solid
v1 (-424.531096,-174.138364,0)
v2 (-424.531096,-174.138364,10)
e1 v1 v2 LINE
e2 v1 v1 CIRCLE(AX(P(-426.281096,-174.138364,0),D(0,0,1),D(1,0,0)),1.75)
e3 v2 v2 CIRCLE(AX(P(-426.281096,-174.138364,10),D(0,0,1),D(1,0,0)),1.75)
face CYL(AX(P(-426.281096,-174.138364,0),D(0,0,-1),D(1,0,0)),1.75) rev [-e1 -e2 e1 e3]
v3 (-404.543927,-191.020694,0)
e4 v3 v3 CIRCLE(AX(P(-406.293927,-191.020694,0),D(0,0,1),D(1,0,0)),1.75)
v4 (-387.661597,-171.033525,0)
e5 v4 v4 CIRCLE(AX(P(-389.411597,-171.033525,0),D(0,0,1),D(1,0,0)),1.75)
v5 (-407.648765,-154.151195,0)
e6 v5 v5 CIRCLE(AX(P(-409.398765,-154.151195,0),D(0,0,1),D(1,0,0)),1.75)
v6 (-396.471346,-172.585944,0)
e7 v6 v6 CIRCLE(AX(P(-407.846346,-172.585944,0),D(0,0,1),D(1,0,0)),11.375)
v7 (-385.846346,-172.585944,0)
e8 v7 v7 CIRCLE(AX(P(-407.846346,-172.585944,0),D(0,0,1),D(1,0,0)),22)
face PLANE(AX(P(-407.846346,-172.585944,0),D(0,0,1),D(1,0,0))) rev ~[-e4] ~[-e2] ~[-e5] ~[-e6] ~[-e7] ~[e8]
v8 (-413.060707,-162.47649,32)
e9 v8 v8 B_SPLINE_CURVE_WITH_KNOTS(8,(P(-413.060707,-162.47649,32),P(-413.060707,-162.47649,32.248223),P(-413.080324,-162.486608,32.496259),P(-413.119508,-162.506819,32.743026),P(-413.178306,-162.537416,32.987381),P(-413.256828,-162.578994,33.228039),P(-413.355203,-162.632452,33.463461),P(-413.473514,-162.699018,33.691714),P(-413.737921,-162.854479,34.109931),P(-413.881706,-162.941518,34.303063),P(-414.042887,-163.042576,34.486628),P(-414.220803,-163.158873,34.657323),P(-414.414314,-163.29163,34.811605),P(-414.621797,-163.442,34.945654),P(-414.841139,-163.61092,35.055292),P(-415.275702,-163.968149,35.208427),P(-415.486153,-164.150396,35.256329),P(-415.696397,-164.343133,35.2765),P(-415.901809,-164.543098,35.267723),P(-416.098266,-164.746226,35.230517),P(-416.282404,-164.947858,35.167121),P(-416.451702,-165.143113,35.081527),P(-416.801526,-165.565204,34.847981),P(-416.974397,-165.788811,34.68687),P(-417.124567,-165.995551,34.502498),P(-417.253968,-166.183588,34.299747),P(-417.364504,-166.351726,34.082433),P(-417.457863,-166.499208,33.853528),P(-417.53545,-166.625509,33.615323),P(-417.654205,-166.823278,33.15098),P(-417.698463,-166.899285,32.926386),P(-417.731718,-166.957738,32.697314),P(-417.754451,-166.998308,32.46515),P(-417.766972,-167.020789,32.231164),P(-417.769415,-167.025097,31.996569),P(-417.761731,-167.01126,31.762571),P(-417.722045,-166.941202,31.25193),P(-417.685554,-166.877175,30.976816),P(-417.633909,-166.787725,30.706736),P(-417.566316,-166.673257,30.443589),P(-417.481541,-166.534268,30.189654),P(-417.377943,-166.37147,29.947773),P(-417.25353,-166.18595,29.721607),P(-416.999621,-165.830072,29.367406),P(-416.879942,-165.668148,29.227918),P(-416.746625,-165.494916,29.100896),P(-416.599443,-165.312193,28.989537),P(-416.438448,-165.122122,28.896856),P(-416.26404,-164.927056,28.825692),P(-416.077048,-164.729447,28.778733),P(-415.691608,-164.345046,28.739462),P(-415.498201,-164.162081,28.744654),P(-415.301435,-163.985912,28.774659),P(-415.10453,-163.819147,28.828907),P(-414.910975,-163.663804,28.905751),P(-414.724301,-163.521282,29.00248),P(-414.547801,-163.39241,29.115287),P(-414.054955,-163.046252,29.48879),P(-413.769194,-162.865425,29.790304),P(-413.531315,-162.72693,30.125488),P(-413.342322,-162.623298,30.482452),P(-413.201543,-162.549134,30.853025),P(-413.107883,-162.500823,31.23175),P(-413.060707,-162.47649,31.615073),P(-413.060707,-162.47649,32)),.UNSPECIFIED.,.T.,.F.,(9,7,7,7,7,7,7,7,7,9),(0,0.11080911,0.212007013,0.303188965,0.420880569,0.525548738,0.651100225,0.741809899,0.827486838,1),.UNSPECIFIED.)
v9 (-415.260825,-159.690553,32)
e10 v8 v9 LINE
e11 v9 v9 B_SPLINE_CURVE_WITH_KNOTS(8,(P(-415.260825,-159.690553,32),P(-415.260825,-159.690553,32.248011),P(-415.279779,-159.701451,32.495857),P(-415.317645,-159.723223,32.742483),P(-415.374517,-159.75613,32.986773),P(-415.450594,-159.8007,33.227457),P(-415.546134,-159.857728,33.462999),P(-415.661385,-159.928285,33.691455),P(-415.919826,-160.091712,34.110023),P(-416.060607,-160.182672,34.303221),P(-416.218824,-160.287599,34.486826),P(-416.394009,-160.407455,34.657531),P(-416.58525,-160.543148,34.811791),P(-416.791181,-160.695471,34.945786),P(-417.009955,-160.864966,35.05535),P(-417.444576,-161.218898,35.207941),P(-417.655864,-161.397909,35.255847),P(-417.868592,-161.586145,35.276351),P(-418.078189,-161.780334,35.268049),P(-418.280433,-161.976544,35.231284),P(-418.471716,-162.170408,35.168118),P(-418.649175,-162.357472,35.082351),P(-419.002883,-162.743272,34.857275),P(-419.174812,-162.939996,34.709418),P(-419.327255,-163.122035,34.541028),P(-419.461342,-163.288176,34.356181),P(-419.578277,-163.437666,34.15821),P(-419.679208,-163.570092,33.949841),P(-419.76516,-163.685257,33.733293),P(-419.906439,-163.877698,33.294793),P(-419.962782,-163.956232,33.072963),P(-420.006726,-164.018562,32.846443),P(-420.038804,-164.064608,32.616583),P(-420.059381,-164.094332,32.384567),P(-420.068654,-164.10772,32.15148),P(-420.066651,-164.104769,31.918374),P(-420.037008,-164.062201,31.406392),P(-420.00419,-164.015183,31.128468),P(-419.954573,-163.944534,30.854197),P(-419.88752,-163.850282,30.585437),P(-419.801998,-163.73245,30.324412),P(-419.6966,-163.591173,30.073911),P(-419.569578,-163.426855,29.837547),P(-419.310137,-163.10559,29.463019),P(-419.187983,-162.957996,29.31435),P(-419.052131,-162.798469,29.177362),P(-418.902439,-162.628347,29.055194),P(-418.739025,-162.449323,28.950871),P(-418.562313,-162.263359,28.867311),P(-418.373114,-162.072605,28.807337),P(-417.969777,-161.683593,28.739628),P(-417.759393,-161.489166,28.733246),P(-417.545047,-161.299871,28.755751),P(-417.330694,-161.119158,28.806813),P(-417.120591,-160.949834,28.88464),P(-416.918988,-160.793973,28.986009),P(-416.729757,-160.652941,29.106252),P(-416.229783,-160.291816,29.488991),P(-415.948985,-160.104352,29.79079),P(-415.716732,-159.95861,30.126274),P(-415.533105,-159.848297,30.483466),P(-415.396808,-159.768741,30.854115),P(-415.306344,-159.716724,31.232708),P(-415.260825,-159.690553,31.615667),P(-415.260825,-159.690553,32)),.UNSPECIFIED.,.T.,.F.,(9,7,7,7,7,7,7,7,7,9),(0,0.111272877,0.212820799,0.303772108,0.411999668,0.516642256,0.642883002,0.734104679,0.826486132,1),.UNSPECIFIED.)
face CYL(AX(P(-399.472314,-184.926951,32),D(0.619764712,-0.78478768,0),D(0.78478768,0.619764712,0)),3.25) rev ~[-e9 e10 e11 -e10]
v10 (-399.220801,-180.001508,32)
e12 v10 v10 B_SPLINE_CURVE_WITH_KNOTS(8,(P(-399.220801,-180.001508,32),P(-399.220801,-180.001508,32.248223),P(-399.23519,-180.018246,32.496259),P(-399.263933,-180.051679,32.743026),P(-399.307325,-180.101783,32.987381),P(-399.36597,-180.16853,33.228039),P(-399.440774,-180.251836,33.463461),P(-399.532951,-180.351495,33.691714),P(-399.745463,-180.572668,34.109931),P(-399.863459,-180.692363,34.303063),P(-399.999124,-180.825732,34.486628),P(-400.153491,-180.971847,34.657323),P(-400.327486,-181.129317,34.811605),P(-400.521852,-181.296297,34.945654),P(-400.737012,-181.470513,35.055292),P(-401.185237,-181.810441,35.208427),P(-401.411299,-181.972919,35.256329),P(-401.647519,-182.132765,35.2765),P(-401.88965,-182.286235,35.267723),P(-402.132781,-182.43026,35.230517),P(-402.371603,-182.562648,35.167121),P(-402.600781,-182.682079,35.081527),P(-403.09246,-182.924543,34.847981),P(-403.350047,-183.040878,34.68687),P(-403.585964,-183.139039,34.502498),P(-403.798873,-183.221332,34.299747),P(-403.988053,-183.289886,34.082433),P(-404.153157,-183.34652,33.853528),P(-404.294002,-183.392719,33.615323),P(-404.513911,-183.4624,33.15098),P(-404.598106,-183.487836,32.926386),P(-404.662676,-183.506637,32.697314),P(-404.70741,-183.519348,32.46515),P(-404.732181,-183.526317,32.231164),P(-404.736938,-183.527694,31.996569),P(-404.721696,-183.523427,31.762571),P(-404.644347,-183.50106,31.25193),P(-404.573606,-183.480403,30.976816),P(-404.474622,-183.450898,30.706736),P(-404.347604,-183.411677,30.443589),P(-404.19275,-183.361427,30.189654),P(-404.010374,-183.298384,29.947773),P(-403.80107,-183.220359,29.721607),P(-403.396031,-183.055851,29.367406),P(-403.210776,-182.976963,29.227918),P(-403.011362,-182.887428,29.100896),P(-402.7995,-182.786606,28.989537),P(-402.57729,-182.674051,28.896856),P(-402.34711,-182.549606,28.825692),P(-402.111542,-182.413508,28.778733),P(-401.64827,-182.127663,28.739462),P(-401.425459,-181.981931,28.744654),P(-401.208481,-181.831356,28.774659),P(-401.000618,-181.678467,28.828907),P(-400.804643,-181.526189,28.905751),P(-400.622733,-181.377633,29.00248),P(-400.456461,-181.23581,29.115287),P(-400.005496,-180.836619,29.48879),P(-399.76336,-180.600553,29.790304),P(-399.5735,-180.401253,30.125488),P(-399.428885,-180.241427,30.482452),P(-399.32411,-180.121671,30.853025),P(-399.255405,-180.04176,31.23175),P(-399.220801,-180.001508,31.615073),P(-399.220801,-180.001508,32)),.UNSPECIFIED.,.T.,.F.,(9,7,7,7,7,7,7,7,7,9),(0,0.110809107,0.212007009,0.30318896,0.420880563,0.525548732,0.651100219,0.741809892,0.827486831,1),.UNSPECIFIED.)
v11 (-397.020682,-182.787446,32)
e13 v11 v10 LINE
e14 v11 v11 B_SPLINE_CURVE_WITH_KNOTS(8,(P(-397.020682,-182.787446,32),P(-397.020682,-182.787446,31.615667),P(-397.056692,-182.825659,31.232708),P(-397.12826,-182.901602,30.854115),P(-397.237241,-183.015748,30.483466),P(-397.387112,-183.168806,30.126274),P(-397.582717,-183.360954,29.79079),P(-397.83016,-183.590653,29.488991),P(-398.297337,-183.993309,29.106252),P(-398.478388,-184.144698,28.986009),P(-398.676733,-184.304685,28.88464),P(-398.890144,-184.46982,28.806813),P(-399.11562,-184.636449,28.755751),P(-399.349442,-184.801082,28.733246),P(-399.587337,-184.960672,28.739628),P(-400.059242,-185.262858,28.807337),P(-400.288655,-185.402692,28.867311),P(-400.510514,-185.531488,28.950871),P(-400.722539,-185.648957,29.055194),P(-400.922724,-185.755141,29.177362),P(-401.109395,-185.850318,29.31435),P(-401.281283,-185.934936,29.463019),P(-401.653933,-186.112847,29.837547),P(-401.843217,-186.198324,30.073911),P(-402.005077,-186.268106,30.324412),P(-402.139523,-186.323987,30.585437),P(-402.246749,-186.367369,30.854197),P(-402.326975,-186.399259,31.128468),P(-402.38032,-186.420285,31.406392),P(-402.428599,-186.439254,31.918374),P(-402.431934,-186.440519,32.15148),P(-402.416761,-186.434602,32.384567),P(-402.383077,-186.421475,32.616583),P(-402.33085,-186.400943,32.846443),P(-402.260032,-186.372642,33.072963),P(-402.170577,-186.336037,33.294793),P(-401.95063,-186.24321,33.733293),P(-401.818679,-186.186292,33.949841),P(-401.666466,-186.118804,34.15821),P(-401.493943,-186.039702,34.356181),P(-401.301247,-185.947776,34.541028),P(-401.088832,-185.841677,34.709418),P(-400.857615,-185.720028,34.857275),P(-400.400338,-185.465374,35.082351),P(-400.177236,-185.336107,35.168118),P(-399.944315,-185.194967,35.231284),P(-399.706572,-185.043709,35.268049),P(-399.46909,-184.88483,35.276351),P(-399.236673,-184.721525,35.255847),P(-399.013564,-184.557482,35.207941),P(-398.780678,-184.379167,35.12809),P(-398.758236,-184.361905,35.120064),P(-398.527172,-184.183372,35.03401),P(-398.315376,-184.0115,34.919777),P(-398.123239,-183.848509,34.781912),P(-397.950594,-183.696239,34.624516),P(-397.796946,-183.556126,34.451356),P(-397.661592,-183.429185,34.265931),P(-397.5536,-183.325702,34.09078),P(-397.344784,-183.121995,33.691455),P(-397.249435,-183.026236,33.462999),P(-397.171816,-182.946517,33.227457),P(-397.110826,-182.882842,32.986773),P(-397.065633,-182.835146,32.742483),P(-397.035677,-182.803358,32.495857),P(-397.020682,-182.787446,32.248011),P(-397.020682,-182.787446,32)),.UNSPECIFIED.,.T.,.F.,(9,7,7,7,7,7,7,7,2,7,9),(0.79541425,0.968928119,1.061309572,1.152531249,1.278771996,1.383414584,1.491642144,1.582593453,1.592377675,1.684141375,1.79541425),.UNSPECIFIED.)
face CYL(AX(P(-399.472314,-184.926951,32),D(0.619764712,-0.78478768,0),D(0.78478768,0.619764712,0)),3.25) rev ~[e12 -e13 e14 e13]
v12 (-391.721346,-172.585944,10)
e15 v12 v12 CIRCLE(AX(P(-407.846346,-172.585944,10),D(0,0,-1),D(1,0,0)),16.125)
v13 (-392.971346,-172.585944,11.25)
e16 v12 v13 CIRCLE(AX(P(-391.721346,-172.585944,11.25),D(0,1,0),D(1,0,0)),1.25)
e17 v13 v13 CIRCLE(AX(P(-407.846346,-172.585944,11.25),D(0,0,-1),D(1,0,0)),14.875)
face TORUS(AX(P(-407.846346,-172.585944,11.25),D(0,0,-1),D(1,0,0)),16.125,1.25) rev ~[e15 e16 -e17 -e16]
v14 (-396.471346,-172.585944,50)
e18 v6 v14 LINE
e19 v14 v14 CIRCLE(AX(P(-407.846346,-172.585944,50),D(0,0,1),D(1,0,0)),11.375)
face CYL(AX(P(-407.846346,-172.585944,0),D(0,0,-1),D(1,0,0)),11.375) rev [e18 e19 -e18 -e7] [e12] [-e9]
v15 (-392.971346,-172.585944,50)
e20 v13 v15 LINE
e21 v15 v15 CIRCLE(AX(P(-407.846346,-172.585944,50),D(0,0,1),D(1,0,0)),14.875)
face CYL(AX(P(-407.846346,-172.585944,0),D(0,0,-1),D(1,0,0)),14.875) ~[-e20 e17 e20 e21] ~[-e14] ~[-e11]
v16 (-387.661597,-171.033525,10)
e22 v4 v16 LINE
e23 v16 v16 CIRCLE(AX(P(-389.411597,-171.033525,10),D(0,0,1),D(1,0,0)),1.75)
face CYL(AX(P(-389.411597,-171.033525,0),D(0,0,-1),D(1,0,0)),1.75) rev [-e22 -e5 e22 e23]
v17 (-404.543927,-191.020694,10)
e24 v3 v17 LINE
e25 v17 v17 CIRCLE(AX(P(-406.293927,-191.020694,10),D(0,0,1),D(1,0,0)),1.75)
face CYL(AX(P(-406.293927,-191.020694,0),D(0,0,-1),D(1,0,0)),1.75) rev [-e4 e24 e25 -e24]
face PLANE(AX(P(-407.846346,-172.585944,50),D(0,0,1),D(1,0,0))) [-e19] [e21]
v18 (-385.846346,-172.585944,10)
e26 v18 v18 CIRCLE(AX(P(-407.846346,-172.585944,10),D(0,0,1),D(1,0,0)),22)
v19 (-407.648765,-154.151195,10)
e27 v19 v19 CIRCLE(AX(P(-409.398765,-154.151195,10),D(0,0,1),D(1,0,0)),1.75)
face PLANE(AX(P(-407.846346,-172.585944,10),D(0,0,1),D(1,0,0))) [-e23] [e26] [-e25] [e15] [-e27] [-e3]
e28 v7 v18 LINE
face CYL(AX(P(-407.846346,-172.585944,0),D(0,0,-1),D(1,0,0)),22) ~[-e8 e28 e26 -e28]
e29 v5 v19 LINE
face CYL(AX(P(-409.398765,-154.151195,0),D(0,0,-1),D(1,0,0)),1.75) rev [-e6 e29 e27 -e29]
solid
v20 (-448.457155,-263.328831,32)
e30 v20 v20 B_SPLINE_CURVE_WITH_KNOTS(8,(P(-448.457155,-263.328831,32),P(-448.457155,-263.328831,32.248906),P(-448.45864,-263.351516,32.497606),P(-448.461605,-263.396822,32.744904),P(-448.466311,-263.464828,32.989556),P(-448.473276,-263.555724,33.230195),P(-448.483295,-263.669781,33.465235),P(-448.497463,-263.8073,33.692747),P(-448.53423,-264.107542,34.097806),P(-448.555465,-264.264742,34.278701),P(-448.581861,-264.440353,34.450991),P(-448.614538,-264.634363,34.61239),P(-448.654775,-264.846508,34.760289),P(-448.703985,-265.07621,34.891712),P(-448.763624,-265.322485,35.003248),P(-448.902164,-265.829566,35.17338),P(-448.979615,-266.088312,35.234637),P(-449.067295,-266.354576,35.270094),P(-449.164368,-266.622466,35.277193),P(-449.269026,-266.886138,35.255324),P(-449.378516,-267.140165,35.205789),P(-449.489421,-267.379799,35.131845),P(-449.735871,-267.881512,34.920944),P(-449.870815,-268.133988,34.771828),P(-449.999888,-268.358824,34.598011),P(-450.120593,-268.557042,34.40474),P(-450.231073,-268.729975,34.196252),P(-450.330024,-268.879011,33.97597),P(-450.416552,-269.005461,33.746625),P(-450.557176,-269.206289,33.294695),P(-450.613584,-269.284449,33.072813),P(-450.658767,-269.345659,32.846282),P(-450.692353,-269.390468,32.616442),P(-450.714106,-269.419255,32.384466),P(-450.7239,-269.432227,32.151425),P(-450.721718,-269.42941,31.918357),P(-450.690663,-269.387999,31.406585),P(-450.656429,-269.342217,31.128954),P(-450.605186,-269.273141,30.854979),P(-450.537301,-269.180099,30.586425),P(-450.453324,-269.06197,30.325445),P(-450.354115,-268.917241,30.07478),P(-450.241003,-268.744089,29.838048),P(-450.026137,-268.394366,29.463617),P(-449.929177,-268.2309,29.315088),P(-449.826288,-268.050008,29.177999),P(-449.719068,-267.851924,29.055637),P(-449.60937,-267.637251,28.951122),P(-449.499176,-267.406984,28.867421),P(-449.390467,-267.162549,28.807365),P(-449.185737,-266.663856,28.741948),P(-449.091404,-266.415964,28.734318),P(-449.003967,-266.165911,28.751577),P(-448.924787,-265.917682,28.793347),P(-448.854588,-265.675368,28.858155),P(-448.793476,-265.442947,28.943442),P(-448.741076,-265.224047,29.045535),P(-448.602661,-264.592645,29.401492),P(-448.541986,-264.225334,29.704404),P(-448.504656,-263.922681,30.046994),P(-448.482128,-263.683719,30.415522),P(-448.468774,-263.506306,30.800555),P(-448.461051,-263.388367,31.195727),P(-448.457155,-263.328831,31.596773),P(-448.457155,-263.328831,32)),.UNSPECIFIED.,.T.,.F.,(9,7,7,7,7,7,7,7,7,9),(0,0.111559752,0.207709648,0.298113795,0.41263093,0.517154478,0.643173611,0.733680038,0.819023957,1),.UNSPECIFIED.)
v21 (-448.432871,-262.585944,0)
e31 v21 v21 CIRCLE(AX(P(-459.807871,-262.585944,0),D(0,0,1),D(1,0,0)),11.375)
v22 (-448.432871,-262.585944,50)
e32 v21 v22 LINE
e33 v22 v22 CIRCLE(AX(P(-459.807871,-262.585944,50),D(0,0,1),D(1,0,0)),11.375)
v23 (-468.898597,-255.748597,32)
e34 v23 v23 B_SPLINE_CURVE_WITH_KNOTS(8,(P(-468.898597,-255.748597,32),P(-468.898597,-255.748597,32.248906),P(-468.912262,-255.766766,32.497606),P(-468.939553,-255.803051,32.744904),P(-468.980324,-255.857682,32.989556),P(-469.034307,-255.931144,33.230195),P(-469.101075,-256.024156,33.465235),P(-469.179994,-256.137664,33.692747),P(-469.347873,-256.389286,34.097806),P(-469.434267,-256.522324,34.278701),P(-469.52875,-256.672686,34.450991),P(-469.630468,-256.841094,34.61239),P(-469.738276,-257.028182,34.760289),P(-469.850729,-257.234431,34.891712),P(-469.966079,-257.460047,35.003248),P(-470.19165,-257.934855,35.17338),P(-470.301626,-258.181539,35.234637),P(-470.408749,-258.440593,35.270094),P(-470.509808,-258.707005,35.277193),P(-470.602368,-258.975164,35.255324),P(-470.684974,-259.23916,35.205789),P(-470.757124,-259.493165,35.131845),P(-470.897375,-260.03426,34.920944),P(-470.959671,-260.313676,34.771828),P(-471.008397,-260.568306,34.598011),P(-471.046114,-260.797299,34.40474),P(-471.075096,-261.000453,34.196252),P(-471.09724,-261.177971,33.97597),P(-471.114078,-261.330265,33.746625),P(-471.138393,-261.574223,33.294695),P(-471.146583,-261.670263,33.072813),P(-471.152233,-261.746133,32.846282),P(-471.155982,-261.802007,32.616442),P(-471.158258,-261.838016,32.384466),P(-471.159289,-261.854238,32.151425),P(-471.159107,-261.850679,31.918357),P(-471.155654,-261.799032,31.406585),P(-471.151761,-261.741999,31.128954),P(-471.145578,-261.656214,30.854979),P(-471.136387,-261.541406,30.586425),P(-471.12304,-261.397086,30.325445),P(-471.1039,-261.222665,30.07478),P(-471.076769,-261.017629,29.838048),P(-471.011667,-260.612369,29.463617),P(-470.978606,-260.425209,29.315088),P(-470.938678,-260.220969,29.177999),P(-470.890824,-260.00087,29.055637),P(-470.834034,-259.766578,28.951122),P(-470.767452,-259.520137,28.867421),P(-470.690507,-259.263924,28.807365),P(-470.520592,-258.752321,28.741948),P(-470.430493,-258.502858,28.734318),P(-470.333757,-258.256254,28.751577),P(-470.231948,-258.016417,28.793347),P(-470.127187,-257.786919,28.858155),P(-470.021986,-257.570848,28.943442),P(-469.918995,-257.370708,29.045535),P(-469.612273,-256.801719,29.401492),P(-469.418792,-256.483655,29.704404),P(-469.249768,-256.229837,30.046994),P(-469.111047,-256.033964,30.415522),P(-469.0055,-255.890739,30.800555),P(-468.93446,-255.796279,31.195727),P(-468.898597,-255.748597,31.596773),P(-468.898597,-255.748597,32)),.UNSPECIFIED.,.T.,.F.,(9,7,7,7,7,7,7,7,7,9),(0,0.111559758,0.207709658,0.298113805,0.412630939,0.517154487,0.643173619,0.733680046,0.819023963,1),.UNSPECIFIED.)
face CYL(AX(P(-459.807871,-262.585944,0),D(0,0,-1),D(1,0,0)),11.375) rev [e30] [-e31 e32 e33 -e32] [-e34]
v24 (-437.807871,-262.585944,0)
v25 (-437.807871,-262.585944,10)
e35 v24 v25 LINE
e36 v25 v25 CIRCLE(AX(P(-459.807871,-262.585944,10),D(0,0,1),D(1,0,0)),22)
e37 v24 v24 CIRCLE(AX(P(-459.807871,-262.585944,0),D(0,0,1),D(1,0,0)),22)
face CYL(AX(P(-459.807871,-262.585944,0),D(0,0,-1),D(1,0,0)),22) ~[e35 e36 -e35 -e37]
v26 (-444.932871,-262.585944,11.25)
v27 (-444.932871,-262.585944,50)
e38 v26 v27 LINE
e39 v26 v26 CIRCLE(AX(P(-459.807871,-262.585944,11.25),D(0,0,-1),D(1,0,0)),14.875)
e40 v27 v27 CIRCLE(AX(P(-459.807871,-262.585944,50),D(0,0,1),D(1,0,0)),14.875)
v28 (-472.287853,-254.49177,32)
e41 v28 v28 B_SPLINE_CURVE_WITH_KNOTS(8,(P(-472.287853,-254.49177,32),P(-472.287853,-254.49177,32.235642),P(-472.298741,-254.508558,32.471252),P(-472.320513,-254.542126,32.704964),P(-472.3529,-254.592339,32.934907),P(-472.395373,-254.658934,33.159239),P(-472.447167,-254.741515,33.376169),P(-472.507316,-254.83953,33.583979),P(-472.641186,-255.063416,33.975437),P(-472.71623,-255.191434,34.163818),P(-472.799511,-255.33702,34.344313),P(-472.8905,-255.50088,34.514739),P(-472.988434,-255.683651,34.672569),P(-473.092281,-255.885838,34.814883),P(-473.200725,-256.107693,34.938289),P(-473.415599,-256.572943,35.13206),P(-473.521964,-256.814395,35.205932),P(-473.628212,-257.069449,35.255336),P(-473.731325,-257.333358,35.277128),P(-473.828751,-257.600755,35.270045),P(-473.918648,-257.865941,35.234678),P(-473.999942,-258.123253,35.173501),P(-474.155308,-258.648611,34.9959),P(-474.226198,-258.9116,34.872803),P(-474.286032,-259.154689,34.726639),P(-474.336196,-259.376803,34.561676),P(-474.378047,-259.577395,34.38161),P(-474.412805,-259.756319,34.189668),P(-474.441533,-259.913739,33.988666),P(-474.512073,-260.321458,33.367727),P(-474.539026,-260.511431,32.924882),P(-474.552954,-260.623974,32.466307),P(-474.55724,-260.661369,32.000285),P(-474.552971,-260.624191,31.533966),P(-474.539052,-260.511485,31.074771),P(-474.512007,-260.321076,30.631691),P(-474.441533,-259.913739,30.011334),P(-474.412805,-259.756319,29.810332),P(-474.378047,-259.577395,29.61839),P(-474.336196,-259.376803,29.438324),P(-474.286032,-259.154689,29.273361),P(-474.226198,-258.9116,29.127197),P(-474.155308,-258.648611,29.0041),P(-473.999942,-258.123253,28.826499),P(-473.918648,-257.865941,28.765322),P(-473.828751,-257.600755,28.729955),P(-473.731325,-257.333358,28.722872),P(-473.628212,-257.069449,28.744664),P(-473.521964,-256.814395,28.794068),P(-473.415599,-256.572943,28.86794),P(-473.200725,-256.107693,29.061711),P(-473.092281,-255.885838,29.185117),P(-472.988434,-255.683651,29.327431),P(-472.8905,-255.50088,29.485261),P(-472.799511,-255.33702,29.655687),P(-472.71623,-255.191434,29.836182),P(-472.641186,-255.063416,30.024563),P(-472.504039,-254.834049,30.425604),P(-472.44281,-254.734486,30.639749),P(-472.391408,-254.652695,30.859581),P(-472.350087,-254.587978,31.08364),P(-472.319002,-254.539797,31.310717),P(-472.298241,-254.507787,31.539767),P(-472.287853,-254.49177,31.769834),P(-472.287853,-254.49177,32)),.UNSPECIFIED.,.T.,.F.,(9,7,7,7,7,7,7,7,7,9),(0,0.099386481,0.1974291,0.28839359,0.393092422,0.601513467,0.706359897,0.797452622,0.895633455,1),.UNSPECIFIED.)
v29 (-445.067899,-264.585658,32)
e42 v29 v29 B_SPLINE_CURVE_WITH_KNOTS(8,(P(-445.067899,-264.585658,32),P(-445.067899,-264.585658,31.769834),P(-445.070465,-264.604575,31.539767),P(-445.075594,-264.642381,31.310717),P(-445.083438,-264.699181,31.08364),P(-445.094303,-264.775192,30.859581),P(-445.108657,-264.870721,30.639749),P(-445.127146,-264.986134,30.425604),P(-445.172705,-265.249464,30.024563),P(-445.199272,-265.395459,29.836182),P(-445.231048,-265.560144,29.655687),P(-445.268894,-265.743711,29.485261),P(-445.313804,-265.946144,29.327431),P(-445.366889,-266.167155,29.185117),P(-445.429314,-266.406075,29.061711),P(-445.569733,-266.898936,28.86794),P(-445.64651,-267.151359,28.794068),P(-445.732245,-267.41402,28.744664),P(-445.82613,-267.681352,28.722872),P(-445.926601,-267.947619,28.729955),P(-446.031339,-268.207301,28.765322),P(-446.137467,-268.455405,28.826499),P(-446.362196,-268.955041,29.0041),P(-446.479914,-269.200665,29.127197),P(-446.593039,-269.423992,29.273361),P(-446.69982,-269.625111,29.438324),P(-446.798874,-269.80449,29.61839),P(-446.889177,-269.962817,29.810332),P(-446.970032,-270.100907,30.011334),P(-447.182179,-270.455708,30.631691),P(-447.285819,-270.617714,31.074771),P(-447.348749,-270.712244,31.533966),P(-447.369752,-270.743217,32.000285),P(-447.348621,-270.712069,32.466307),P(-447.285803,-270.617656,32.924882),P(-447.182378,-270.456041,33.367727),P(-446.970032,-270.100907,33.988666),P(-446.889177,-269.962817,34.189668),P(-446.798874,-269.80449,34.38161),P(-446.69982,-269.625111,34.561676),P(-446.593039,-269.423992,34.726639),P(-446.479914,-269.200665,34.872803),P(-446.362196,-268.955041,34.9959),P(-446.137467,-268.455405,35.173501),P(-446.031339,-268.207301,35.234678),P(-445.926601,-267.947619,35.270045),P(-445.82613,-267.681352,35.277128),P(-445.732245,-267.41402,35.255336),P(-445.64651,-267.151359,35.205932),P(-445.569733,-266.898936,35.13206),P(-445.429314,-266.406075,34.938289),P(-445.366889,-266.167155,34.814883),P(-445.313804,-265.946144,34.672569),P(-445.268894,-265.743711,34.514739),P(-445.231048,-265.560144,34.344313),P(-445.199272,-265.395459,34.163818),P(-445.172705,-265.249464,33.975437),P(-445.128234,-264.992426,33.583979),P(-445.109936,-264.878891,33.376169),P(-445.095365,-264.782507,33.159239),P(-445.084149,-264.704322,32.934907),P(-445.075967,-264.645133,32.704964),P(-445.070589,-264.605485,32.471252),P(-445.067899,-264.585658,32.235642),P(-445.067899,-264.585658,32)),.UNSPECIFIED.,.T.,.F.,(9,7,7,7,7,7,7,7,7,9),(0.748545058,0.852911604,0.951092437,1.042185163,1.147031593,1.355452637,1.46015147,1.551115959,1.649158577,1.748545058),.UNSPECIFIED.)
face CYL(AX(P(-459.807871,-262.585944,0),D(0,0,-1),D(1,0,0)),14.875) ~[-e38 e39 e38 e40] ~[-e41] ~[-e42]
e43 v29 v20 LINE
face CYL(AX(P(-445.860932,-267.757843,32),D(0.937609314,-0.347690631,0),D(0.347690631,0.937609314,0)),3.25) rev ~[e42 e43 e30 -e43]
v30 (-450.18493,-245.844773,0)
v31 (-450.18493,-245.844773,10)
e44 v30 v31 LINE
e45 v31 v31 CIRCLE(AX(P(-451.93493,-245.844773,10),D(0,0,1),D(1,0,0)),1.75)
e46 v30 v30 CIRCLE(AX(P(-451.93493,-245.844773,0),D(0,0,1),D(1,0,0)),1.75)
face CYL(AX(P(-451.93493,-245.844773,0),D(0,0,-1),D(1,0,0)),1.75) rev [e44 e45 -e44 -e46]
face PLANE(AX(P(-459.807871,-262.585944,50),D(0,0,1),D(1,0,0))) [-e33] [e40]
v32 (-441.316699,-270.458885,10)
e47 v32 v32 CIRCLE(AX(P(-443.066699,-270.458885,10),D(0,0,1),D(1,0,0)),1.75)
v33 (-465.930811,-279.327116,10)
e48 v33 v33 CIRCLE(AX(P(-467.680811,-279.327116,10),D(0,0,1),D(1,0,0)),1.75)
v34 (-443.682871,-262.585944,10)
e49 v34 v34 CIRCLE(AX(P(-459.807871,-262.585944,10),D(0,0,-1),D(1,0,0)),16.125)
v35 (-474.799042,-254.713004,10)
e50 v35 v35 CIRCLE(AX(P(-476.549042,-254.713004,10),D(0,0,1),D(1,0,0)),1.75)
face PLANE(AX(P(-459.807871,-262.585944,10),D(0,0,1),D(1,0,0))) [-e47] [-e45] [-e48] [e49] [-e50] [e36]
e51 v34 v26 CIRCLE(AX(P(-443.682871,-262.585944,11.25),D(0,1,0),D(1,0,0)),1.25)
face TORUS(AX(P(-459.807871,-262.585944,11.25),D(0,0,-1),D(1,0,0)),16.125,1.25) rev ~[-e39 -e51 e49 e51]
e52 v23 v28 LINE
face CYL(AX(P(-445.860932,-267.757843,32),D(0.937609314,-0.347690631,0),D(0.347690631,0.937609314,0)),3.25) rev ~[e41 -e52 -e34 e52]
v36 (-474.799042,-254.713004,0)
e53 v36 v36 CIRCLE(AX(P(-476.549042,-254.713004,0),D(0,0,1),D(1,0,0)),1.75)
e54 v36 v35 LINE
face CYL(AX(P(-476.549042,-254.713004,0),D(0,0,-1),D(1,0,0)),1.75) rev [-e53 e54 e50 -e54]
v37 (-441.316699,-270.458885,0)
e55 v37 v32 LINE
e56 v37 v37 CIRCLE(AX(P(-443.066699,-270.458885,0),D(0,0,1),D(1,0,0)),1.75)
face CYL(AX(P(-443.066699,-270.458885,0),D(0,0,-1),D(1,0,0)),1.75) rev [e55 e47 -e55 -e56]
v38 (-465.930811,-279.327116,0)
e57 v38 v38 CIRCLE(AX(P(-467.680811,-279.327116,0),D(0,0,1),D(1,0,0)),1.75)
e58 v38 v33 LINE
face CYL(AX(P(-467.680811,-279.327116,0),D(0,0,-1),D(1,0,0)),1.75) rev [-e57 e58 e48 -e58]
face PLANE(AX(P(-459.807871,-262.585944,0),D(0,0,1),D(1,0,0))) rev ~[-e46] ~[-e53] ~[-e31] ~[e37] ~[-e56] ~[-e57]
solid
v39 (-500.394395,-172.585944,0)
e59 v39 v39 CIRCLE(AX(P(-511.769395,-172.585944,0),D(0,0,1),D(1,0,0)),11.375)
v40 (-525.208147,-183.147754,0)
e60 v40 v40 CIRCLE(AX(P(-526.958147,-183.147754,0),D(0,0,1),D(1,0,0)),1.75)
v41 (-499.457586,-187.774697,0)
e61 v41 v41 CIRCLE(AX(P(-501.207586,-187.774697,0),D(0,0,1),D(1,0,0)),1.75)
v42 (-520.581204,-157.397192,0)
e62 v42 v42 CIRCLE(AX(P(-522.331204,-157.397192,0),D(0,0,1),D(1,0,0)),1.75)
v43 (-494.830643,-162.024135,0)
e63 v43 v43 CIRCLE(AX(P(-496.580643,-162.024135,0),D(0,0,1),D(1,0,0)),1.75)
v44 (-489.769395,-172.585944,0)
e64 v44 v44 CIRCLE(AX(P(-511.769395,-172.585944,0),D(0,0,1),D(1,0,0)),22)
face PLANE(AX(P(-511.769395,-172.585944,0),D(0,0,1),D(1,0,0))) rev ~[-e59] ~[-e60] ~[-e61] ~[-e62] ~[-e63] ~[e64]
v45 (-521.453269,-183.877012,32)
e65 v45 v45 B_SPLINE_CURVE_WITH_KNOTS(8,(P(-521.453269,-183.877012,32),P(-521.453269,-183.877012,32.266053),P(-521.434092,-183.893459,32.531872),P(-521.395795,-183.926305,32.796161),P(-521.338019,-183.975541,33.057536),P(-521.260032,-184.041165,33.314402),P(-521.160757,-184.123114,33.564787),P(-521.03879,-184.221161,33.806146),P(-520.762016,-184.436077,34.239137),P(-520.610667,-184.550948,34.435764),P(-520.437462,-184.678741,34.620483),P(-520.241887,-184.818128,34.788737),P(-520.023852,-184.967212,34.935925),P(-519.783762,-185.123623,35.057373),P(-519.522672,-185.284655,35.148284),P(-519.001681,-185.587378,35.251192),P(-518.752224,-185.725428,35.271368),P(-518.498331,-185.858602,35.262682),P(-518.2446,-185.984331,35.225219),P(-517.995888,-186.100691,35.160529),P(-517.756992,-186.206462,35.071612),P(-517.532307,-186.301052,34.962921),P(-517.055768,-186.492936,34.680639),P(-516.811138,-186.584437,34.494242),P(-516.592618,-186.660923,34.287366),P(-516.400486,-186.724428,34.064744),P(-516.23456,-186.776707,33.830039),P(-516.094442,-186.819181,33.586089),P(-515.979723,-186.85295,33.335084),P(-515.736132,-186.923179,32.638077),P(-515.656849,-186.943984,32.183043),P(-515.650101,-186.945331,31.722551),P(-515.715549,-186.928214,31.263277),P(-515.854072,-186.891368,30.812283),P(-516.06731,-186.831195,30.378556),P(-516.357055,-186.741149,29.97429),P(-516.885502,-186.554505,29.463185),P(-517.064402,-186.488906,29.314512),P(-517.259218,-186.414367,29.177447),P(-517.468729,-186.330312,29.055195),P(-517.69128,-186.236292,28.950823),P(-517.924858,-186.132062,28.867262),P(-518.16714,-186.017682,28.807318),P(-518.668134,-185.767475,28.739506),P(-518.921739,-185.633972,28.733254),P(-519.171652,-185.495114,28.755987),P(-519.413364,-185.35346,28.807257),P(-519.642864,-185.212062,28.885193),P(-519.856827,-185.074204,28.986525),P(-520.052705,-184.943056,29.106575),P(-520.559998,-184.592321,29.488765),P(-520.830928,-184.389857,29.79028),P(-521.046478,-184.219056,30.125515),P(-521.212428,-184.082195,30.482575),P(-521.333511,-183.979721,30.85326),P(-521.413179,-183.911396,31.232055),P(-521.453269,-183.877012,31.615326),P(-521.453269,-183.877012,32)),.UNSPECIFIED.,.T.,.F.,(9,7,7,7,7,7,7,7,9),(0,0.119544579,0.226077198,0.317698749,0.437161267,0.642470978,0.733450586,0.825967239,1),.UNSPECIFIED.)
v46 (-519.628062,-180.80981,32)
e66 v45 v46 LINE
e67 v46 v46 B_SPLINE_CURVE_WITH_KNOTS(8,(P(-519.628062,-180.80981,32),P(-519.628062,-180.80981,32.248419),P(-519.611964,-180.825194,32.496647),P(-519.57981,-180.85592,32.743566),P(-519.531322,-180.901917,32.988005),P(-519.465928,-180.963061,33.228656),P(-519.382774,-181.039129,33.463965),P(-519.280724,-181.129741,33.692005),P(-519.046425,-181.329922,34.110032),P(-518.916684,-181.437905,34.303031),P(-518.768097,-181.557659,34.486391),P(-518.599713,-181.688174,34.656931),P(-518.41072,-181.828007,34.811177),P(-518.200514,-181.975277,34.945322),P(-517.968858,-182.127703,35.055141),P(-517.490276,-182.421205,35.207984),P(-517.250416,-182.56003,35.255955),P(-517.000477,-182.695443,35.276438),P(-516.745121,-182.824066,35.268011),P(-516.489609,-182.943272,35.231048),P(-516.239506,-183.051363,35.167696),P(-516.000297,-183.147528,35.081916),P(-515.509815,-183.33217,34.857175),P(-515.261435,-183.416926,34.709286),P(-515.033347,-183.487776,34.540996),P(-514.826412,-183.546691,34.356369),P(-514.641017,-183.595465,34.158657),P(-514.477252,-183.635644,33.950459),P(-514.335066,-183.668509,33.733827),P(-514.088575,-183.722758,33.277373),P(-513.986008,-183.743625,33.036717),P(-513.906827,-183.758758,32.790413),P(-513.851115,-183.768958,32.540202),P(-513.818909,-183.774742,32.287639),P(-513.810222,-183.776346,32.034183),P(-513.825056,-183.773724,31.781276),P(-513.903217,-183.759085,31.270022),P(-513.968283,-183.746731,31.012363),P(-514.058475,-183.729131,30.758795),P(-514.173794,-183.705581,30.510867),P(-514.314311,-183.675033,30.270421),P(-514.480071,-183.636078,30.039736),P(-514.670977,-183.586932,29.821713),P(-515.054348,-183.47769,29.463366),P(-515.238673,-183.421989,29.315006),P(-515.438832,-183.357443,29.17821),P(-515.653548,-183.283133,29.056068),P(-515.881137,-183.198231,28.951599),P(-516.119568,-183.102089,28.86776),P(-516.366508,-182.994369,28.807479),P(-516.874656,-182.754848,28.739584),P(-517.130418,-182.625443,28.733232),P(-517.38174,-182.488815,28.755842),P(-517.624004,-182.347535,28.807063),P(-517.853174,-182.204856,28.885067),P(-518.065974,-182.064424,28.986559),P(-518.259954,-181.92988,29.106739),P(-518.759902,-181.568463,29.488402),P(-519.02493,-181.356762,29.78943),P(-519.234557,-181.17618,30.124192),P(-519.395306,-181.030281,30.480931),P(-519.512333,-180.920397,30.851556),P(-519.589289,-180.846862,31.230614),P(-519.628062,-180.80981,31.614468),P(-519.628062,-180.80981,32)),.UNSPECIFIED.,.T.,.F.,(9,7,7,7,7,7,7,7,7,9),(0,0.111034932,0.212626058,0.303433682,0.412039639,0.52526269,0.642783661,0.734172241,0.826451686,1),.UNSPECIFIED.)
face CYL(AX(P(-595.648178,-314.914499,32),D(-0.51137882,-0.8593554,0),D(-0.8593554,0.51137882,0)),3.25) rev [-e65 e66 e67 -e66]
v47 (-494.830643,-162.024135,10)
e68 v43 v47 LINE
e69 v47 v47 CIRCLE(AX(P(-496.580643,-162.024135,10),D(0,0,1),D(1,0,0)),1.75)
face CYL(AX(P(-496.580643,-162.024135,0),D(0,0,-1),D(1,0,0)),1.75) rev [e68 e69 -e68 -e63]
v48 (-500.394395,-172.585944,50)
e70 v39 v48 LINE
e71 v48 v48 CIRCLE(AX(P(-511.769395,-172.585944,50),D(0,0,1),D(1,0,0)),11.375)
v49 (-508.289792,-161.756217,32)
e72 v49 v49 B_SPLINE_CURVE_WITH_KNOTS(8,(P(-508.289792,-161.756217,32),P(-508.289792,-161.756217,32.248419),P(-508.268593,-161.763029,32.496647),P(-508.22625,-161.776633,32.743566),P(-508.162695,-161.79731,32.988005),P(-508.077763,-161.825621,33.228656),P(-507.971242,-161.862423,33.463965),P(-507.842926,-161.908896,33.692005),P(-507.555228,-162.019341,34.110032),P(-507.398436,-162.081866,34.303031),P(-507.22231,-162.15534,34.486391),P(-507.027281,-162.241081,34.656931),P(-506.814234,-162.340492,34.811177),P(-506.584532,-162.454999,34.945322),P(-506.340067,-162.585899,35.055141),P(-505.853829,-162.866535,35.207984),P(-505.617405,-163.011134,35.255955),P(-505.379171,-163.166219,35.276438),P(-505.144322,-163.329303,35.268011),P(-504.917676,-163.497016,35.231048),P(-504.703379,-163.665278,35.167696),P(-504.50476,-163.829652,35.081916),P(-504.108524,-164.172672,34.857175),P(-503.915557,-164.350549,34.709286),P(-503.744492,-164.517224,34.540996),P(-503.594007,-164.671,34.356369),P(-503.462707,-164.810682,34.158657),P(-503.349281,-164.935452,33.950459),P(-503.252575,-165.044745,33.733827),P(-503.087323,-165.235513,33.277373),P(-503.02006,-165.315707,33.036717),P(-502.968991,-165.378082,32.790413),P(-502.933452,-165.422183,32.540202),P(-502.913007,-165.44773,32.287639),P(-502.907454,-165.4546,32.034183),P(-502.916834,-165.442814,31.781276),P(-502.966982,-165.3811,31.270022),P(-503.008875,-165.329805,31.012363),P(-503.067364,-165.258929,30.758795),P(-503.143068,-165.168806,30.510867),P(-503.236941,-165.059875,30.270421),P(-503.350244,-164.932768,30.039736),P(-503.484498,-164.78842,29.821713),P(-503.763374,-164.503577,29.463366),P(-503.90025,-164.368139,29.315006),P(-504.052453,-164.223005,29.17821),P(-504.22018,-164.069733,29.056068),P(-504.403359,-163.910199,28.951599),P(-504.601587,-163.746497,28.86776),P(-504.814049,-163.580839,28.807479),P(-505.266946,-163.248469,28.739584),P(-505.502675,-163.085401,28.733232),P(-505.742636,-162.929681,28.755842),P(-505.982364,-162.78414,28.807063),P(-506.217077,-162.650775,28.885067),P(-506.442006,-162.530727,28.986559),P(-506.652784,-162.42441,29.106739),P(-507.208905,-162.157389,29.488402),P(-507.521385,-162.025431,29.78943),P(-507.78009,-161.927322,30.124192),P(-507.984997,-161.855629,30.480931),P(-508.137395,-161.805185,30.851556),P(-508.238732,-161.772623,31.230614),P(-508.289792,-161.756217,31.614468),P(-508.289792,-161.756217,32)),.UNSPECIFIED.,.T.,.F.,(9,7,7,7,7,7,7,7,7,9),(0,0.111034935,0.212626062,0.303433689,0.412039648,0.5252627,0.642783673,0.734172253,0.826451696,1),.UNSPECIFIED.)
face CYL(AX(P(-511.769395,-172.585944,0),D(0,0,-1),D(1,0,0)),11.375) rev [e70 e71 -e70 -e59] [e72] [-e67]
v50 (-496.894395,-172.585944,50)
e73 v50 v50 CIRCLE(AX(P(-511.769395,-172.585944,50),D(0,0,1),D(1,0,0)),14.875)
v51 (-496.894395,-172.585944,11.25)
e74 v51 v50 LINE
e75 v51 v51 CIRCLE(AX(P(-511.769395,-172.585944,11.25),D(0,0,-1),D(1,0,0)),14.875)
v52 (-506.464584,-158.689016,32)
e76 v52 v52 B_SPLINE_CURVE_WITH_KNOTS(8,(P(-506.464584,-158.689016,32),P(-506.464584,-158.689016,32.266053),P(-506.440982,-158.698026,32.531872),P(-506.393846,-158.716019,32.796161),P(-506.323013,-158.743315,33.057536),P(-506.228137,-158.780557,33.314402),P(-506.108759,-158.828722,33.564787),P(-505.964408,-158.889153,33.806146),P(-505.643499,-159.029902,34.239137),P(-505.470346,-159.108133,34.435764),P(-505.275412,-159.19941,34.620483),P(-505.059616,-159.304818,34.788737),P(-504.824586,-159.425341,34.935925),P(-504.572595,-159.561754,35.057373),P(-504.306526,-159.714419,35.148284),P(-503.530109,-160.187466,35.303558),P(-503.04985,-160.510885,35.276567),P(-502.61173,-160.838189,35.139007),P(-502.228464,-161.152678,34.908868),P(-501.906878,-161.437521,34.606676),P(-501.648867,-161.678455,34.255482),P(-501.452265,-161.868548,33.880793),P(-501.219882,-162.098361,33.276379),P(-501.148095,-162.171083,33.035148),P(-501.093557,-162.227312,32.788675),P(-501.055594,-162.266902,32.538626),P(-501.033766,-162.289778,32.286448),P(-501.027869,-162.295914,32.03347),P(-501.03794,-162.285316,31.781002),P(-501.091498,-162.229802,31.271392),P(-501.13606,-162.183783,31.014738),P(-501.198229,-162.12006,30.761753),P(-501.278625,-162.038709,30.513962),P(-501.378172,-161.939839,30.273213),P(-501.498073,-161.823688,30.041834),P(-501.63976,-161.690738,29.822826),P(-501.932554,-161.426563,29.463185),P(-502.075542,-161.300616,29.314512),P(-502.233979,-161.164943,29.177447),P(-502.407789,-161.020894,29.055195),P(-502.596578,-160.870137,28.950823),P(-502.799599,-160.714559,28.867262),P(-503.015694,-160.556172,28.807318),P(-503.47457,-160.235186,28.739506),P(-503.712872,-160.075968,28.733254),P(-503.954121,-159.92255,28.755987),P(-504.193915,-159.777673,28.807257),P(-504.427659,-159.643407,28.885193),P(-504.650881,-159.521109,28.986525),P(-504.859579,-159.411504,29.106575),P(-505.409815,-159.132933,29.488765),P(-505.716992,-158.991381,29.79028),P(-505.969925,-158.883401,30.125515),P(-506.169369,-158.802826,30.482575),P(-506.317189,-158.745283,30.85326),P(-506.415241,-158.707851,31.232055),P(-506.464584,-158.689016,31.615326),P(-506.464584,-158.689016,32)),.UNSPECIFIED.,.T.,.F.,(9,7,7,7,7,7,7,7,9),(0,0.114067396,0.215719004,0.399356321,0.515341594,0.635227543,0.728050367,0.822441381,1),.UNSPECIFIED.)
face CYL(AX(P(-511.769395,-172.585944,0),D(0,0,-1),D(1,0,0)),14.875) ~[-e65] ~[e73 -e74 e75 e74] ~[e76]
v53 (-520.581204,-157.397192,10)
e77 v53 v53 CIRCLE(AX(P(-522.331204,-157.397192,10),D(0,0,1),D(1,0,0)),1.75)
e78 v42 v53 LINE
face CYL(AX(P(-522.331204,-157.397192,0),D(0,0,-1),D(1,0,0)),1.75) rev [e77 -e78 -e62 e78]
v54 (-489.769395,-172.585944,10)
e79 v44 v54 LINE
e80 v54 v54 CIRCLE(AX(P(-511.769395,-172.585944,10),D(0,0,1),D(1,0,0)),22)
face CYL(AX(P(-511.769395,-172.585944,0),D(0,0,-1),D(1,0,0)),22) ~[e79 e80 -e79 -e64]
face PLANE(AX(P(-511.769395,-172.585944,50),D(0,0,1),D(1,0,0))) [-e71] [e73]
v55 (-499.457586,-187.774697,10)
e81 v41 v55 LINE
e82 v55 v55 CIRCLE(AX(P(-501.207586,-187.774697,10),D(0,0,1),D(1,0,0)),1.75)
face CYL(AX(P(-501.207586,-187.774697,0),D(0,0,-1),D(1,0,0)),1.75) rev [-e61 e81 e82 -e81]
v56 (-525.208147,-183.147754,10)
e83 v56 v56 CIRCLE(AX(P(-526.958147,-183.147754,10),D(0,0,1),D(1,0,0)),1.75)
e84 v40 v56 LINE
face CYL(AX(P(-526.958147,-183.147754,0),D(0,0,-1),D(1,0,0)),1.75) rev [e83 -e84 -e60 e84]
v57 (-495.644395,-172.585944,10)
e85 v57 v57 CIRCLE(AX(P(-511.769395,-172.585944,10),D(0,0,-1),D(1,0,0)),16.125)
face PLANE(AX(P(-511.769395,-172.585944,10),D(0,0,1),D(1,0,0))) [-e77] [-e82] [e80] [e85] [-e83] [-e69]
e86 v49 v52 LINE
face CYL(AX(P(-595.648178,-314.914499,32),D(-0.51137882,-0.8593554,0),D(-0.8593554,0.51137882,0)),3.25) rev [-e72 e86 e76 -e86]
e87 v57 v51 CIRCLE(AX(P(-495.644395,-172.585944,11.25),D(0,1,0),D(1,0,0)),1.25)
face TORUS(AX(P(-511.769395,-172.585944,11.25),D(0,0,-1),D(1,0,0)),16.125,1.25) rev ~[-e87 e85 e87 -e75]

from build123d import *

# Parameters (mm, degrees)
SKETCH1_R               = 22
SKETCH1_R_2             = 1.75
SKETCH1_R_3             = 14.625
BOSS_EXTRUDE1_DEPTH     = 10
BOSS_EXTRUDE1_2_DEPTH   = 10
BOSS_EXTRUDE1_3_DEPTH   = 10
SKETCH2_R               = 14.875
SKETCH2_R_2             = 11.375
BOSS_EXTRUDE2_DEPTH     = 50
FILLET1_R               = 1.25
FILLET2_R               = 1.25
FILLET3_R               = 1.25
SKETCH4_R               = 3.25
CUT_EXTRUDE1_DEPTH      = 176.581139074
CUT_EXTRUDE2_DEPTH      = 180.079644729
CUT_EXTRUDE2_DEPTH_BACK = 180.079644729
SKETCH8_R               = 3.25
SKETCH10_R              = 3.25
CUT_EXTRUDE3_DEPTH      = 155.780979287


with BuildPart() as part:
    # Sketch1 → Boss-Extrude1 (new body)
    with BuildSketch(Plane.XY):
        with Locations((-407.846346301, -172.585944494)):
            Circle(SKETCH1_R)
        with Locations((-426.281095964, -174.138363522)):
            Circle(SKETCH1_R_2, mode=Mode.SUBTRACT)
        with Locations((-406.293927273, -191.020694157)):
            Circle(SKETCH1_R_2, mode=Mode.SUBTRACT)
        with Locations((-407.846346301, -172.585944494)):
            Circle(SKETCH1_R_3, mode=Mode.SUBTRACT)
        with Locations((-409.398765329, -154.15119483)):
            Circle(SKETCH1_R_2, mode=Mode.SUBTRACT)
        with Locations((-389.411596637, -171.033525465)):
            Circle(SKETCH1_R_2, mode=Mode.SUBTRACT)
    extrude(amount=BOSS_EXTRUDE1_DEPTH)



with BuildPart() as body_2:
    # Sketch1 → Boss-Extrude1 2 (new body)
    with BuildSketch(Plane.XY):
        with Locations((-459.807870528, -262.585944494)):
            Circle(SKETCH1_R)
        with Locations((-467.680811044, -279.327115529)):
            Circle(SKETCH1_R_2, mode=Mode.SUBTRACT)
        with Locations((-476.549041563, -254.713003978)):
            Circle(SKETCH1_R_2, mode=Mode.SUBTRACT)
        with Locations((-459.807870528, -262.585944494)):
            Circle(SKETCH1_R_3, mode=Mode.SUBTRACT)
        with Locations((-443.066699493, -270.45888501)):
            Circle(SKETCH1_R_2, mode=Mode.SUBTRACT)
        with Locations((-451.934930012, -245.844773458)):
            Circle(SKETCH1_R_2, mode=Mode.SUBTRACT)
    extrude(amount=BOSS_EXTRUDE1_2_DEPTH)


with BuildPart() as body_3:
    # Sketch1 → Boss-Extrude1 3 (new body)
    with BuildSketch(Plane.XY):
        with Locations((-511.769394755, -172.585944494)):
            Circle(SKETCH1_R)
        with Locations((-526.958146762, -183.147753641)):
            Circle(SKETCH1_R_2, mode=Mode.SUBTRACT)
        with Locations((-501.207585607, -187.774696501)):
            Circle(SKETCH1_R_2, mode=Mode.SUBTRACT)
        with Locations((-522.331203903, -157.397192487)):
            Circle(SKETCH1_R_2, mode=Mode.SUBTRACT)
        with Locations((-511.769394755, -172.585944494)):
            Circle(SKETCH1_R_3, mode=Mode.SUBTRACT)
        with Locations((-496.580642748, -162.024135346)):
            Circle(SKETCH1_R_2, mode=Mode.SUBTRACT)
    extrude(amount=BOSS_EXTRUDE1_3_DEPTH)


with BuildPart() as part_1:
    add(part.part)

    add(body_2.part)  # Boss-Extrude2 merges body 2

    add(body_3.part)  # Boss-Extrude2 merges body 3
    # Sketch2 → Boss-Extrude2 (add)
    # profile 1 of 3: a face of its own
    with BuildSketch(Plane.XY):
        with Locations((-511.769394755, -172.585944494)):
            Circle(SKETCH2_R)
        with Locations((-511.769394755, -172.585944494)):
            Circle(SKETCH2_R_2, mode=Mode.SUBTRACT)
    # profile 2 of 3: a face of its own
    with BuildSketch(Plane.XY):
        with Locations((-407.846346301, -172.585944494)):
            Circle(SKETCH2_R)
        with Locations((-407.846346301, -172.585944494)):
            Circle(SKETCH2_R_2, mode=Mode.SUBTRACT)
    # profile 3 of 3: a face of its own
    with BuildSketch(Plane.XY):
        with Locations((-459.807870528, -262.585944494)):
            Circle(SKETCH2_R)
        with Locations((-459.807870528, -262.585944494)):
            Circle(SKETCH2_R_2, mode=Mode.SUBTRACT)
    extrude(amount=BOSS_EXTRUDE2_DEPTH)

    # Fillet1
    fillet1_edges = [part_1.edges().sort_by_distance(p)[0] for p in [
        (-526.644394755, -172.585944494, 10),
    ]]
    fillet(fillet1_edges, radius=FILLET1_R)

    # Fillet2
    fillet2_edges = [part_1.edges().sort_by_distance(p)[0] for p in [
        (-474.682870528, -262.585944494, 10),
    ]]
    fillet(fillet2_edges, radius=FILLET2_R)

    # Fillet3
    fillet3_edges = [part_1.edges().sort_by_distance(p)[0] for p in [
        (-422.721346301, -172.585944494, 10),
    ]]
    fillet(fillet3_edges, radius=FILLET3_R)

    # Sketch4 → Cut-Extrude1 (cut, through all)
    with BuildSketch(Plane(origin=(-398.627346212, -184.259661227, 50), x_dir=(-0.7847876795385339, -0.6197647118419406, 0), z_dir=(0.6197647118419406, -0.7847876795385339, 0))):
        with Locations((1.076682742, 18)):
            Circle(SKETCH4_R)
    extrude(amount=-CUT_EXTRUDE1_DEPTH, mode=Mode.SUBTRACT)

    # Sketch8 → Cut-Extrude2 (cut, two sides: drawn at the far end of the back side and taken through both)
    with BuildSketch(Plane(origin=(-504.162634811, -159.803032926, 50), x_dir=(0.8593553995270007, -0.5113788197645548, 0), z_dir=(0.5113788197645548, 0.8593553995270007, 0)).offset(-CUT_EXTRUDE2_DEPTH_BACK)):
        with Locations((0.702122631, 18)):
            Circle(SKETCH8_R)
    extrude(amount=CUT_EXTRUDE2_DEPTH + CUT_EXTRUDE2_DEPTH_BACK, mode=Mode.SUBTRACT)

    # Sketch10 → Cut-Extrude3 (cut, through all)
    with BuildSketch(Plane(origin=(-445.860931986, -267.757842629, 50), x_dir=(0, 0, -1), z_dir=(0.9376093137165733, -0.34769063092343505, 0))):
        with Locations((18, 0)):
            Circle(SKETCH10_R)
    extrude(amount=-CUT_EXTRUDE3_DEPTH, mode=Mode.SUBTRACT)


solid = part_1.part
